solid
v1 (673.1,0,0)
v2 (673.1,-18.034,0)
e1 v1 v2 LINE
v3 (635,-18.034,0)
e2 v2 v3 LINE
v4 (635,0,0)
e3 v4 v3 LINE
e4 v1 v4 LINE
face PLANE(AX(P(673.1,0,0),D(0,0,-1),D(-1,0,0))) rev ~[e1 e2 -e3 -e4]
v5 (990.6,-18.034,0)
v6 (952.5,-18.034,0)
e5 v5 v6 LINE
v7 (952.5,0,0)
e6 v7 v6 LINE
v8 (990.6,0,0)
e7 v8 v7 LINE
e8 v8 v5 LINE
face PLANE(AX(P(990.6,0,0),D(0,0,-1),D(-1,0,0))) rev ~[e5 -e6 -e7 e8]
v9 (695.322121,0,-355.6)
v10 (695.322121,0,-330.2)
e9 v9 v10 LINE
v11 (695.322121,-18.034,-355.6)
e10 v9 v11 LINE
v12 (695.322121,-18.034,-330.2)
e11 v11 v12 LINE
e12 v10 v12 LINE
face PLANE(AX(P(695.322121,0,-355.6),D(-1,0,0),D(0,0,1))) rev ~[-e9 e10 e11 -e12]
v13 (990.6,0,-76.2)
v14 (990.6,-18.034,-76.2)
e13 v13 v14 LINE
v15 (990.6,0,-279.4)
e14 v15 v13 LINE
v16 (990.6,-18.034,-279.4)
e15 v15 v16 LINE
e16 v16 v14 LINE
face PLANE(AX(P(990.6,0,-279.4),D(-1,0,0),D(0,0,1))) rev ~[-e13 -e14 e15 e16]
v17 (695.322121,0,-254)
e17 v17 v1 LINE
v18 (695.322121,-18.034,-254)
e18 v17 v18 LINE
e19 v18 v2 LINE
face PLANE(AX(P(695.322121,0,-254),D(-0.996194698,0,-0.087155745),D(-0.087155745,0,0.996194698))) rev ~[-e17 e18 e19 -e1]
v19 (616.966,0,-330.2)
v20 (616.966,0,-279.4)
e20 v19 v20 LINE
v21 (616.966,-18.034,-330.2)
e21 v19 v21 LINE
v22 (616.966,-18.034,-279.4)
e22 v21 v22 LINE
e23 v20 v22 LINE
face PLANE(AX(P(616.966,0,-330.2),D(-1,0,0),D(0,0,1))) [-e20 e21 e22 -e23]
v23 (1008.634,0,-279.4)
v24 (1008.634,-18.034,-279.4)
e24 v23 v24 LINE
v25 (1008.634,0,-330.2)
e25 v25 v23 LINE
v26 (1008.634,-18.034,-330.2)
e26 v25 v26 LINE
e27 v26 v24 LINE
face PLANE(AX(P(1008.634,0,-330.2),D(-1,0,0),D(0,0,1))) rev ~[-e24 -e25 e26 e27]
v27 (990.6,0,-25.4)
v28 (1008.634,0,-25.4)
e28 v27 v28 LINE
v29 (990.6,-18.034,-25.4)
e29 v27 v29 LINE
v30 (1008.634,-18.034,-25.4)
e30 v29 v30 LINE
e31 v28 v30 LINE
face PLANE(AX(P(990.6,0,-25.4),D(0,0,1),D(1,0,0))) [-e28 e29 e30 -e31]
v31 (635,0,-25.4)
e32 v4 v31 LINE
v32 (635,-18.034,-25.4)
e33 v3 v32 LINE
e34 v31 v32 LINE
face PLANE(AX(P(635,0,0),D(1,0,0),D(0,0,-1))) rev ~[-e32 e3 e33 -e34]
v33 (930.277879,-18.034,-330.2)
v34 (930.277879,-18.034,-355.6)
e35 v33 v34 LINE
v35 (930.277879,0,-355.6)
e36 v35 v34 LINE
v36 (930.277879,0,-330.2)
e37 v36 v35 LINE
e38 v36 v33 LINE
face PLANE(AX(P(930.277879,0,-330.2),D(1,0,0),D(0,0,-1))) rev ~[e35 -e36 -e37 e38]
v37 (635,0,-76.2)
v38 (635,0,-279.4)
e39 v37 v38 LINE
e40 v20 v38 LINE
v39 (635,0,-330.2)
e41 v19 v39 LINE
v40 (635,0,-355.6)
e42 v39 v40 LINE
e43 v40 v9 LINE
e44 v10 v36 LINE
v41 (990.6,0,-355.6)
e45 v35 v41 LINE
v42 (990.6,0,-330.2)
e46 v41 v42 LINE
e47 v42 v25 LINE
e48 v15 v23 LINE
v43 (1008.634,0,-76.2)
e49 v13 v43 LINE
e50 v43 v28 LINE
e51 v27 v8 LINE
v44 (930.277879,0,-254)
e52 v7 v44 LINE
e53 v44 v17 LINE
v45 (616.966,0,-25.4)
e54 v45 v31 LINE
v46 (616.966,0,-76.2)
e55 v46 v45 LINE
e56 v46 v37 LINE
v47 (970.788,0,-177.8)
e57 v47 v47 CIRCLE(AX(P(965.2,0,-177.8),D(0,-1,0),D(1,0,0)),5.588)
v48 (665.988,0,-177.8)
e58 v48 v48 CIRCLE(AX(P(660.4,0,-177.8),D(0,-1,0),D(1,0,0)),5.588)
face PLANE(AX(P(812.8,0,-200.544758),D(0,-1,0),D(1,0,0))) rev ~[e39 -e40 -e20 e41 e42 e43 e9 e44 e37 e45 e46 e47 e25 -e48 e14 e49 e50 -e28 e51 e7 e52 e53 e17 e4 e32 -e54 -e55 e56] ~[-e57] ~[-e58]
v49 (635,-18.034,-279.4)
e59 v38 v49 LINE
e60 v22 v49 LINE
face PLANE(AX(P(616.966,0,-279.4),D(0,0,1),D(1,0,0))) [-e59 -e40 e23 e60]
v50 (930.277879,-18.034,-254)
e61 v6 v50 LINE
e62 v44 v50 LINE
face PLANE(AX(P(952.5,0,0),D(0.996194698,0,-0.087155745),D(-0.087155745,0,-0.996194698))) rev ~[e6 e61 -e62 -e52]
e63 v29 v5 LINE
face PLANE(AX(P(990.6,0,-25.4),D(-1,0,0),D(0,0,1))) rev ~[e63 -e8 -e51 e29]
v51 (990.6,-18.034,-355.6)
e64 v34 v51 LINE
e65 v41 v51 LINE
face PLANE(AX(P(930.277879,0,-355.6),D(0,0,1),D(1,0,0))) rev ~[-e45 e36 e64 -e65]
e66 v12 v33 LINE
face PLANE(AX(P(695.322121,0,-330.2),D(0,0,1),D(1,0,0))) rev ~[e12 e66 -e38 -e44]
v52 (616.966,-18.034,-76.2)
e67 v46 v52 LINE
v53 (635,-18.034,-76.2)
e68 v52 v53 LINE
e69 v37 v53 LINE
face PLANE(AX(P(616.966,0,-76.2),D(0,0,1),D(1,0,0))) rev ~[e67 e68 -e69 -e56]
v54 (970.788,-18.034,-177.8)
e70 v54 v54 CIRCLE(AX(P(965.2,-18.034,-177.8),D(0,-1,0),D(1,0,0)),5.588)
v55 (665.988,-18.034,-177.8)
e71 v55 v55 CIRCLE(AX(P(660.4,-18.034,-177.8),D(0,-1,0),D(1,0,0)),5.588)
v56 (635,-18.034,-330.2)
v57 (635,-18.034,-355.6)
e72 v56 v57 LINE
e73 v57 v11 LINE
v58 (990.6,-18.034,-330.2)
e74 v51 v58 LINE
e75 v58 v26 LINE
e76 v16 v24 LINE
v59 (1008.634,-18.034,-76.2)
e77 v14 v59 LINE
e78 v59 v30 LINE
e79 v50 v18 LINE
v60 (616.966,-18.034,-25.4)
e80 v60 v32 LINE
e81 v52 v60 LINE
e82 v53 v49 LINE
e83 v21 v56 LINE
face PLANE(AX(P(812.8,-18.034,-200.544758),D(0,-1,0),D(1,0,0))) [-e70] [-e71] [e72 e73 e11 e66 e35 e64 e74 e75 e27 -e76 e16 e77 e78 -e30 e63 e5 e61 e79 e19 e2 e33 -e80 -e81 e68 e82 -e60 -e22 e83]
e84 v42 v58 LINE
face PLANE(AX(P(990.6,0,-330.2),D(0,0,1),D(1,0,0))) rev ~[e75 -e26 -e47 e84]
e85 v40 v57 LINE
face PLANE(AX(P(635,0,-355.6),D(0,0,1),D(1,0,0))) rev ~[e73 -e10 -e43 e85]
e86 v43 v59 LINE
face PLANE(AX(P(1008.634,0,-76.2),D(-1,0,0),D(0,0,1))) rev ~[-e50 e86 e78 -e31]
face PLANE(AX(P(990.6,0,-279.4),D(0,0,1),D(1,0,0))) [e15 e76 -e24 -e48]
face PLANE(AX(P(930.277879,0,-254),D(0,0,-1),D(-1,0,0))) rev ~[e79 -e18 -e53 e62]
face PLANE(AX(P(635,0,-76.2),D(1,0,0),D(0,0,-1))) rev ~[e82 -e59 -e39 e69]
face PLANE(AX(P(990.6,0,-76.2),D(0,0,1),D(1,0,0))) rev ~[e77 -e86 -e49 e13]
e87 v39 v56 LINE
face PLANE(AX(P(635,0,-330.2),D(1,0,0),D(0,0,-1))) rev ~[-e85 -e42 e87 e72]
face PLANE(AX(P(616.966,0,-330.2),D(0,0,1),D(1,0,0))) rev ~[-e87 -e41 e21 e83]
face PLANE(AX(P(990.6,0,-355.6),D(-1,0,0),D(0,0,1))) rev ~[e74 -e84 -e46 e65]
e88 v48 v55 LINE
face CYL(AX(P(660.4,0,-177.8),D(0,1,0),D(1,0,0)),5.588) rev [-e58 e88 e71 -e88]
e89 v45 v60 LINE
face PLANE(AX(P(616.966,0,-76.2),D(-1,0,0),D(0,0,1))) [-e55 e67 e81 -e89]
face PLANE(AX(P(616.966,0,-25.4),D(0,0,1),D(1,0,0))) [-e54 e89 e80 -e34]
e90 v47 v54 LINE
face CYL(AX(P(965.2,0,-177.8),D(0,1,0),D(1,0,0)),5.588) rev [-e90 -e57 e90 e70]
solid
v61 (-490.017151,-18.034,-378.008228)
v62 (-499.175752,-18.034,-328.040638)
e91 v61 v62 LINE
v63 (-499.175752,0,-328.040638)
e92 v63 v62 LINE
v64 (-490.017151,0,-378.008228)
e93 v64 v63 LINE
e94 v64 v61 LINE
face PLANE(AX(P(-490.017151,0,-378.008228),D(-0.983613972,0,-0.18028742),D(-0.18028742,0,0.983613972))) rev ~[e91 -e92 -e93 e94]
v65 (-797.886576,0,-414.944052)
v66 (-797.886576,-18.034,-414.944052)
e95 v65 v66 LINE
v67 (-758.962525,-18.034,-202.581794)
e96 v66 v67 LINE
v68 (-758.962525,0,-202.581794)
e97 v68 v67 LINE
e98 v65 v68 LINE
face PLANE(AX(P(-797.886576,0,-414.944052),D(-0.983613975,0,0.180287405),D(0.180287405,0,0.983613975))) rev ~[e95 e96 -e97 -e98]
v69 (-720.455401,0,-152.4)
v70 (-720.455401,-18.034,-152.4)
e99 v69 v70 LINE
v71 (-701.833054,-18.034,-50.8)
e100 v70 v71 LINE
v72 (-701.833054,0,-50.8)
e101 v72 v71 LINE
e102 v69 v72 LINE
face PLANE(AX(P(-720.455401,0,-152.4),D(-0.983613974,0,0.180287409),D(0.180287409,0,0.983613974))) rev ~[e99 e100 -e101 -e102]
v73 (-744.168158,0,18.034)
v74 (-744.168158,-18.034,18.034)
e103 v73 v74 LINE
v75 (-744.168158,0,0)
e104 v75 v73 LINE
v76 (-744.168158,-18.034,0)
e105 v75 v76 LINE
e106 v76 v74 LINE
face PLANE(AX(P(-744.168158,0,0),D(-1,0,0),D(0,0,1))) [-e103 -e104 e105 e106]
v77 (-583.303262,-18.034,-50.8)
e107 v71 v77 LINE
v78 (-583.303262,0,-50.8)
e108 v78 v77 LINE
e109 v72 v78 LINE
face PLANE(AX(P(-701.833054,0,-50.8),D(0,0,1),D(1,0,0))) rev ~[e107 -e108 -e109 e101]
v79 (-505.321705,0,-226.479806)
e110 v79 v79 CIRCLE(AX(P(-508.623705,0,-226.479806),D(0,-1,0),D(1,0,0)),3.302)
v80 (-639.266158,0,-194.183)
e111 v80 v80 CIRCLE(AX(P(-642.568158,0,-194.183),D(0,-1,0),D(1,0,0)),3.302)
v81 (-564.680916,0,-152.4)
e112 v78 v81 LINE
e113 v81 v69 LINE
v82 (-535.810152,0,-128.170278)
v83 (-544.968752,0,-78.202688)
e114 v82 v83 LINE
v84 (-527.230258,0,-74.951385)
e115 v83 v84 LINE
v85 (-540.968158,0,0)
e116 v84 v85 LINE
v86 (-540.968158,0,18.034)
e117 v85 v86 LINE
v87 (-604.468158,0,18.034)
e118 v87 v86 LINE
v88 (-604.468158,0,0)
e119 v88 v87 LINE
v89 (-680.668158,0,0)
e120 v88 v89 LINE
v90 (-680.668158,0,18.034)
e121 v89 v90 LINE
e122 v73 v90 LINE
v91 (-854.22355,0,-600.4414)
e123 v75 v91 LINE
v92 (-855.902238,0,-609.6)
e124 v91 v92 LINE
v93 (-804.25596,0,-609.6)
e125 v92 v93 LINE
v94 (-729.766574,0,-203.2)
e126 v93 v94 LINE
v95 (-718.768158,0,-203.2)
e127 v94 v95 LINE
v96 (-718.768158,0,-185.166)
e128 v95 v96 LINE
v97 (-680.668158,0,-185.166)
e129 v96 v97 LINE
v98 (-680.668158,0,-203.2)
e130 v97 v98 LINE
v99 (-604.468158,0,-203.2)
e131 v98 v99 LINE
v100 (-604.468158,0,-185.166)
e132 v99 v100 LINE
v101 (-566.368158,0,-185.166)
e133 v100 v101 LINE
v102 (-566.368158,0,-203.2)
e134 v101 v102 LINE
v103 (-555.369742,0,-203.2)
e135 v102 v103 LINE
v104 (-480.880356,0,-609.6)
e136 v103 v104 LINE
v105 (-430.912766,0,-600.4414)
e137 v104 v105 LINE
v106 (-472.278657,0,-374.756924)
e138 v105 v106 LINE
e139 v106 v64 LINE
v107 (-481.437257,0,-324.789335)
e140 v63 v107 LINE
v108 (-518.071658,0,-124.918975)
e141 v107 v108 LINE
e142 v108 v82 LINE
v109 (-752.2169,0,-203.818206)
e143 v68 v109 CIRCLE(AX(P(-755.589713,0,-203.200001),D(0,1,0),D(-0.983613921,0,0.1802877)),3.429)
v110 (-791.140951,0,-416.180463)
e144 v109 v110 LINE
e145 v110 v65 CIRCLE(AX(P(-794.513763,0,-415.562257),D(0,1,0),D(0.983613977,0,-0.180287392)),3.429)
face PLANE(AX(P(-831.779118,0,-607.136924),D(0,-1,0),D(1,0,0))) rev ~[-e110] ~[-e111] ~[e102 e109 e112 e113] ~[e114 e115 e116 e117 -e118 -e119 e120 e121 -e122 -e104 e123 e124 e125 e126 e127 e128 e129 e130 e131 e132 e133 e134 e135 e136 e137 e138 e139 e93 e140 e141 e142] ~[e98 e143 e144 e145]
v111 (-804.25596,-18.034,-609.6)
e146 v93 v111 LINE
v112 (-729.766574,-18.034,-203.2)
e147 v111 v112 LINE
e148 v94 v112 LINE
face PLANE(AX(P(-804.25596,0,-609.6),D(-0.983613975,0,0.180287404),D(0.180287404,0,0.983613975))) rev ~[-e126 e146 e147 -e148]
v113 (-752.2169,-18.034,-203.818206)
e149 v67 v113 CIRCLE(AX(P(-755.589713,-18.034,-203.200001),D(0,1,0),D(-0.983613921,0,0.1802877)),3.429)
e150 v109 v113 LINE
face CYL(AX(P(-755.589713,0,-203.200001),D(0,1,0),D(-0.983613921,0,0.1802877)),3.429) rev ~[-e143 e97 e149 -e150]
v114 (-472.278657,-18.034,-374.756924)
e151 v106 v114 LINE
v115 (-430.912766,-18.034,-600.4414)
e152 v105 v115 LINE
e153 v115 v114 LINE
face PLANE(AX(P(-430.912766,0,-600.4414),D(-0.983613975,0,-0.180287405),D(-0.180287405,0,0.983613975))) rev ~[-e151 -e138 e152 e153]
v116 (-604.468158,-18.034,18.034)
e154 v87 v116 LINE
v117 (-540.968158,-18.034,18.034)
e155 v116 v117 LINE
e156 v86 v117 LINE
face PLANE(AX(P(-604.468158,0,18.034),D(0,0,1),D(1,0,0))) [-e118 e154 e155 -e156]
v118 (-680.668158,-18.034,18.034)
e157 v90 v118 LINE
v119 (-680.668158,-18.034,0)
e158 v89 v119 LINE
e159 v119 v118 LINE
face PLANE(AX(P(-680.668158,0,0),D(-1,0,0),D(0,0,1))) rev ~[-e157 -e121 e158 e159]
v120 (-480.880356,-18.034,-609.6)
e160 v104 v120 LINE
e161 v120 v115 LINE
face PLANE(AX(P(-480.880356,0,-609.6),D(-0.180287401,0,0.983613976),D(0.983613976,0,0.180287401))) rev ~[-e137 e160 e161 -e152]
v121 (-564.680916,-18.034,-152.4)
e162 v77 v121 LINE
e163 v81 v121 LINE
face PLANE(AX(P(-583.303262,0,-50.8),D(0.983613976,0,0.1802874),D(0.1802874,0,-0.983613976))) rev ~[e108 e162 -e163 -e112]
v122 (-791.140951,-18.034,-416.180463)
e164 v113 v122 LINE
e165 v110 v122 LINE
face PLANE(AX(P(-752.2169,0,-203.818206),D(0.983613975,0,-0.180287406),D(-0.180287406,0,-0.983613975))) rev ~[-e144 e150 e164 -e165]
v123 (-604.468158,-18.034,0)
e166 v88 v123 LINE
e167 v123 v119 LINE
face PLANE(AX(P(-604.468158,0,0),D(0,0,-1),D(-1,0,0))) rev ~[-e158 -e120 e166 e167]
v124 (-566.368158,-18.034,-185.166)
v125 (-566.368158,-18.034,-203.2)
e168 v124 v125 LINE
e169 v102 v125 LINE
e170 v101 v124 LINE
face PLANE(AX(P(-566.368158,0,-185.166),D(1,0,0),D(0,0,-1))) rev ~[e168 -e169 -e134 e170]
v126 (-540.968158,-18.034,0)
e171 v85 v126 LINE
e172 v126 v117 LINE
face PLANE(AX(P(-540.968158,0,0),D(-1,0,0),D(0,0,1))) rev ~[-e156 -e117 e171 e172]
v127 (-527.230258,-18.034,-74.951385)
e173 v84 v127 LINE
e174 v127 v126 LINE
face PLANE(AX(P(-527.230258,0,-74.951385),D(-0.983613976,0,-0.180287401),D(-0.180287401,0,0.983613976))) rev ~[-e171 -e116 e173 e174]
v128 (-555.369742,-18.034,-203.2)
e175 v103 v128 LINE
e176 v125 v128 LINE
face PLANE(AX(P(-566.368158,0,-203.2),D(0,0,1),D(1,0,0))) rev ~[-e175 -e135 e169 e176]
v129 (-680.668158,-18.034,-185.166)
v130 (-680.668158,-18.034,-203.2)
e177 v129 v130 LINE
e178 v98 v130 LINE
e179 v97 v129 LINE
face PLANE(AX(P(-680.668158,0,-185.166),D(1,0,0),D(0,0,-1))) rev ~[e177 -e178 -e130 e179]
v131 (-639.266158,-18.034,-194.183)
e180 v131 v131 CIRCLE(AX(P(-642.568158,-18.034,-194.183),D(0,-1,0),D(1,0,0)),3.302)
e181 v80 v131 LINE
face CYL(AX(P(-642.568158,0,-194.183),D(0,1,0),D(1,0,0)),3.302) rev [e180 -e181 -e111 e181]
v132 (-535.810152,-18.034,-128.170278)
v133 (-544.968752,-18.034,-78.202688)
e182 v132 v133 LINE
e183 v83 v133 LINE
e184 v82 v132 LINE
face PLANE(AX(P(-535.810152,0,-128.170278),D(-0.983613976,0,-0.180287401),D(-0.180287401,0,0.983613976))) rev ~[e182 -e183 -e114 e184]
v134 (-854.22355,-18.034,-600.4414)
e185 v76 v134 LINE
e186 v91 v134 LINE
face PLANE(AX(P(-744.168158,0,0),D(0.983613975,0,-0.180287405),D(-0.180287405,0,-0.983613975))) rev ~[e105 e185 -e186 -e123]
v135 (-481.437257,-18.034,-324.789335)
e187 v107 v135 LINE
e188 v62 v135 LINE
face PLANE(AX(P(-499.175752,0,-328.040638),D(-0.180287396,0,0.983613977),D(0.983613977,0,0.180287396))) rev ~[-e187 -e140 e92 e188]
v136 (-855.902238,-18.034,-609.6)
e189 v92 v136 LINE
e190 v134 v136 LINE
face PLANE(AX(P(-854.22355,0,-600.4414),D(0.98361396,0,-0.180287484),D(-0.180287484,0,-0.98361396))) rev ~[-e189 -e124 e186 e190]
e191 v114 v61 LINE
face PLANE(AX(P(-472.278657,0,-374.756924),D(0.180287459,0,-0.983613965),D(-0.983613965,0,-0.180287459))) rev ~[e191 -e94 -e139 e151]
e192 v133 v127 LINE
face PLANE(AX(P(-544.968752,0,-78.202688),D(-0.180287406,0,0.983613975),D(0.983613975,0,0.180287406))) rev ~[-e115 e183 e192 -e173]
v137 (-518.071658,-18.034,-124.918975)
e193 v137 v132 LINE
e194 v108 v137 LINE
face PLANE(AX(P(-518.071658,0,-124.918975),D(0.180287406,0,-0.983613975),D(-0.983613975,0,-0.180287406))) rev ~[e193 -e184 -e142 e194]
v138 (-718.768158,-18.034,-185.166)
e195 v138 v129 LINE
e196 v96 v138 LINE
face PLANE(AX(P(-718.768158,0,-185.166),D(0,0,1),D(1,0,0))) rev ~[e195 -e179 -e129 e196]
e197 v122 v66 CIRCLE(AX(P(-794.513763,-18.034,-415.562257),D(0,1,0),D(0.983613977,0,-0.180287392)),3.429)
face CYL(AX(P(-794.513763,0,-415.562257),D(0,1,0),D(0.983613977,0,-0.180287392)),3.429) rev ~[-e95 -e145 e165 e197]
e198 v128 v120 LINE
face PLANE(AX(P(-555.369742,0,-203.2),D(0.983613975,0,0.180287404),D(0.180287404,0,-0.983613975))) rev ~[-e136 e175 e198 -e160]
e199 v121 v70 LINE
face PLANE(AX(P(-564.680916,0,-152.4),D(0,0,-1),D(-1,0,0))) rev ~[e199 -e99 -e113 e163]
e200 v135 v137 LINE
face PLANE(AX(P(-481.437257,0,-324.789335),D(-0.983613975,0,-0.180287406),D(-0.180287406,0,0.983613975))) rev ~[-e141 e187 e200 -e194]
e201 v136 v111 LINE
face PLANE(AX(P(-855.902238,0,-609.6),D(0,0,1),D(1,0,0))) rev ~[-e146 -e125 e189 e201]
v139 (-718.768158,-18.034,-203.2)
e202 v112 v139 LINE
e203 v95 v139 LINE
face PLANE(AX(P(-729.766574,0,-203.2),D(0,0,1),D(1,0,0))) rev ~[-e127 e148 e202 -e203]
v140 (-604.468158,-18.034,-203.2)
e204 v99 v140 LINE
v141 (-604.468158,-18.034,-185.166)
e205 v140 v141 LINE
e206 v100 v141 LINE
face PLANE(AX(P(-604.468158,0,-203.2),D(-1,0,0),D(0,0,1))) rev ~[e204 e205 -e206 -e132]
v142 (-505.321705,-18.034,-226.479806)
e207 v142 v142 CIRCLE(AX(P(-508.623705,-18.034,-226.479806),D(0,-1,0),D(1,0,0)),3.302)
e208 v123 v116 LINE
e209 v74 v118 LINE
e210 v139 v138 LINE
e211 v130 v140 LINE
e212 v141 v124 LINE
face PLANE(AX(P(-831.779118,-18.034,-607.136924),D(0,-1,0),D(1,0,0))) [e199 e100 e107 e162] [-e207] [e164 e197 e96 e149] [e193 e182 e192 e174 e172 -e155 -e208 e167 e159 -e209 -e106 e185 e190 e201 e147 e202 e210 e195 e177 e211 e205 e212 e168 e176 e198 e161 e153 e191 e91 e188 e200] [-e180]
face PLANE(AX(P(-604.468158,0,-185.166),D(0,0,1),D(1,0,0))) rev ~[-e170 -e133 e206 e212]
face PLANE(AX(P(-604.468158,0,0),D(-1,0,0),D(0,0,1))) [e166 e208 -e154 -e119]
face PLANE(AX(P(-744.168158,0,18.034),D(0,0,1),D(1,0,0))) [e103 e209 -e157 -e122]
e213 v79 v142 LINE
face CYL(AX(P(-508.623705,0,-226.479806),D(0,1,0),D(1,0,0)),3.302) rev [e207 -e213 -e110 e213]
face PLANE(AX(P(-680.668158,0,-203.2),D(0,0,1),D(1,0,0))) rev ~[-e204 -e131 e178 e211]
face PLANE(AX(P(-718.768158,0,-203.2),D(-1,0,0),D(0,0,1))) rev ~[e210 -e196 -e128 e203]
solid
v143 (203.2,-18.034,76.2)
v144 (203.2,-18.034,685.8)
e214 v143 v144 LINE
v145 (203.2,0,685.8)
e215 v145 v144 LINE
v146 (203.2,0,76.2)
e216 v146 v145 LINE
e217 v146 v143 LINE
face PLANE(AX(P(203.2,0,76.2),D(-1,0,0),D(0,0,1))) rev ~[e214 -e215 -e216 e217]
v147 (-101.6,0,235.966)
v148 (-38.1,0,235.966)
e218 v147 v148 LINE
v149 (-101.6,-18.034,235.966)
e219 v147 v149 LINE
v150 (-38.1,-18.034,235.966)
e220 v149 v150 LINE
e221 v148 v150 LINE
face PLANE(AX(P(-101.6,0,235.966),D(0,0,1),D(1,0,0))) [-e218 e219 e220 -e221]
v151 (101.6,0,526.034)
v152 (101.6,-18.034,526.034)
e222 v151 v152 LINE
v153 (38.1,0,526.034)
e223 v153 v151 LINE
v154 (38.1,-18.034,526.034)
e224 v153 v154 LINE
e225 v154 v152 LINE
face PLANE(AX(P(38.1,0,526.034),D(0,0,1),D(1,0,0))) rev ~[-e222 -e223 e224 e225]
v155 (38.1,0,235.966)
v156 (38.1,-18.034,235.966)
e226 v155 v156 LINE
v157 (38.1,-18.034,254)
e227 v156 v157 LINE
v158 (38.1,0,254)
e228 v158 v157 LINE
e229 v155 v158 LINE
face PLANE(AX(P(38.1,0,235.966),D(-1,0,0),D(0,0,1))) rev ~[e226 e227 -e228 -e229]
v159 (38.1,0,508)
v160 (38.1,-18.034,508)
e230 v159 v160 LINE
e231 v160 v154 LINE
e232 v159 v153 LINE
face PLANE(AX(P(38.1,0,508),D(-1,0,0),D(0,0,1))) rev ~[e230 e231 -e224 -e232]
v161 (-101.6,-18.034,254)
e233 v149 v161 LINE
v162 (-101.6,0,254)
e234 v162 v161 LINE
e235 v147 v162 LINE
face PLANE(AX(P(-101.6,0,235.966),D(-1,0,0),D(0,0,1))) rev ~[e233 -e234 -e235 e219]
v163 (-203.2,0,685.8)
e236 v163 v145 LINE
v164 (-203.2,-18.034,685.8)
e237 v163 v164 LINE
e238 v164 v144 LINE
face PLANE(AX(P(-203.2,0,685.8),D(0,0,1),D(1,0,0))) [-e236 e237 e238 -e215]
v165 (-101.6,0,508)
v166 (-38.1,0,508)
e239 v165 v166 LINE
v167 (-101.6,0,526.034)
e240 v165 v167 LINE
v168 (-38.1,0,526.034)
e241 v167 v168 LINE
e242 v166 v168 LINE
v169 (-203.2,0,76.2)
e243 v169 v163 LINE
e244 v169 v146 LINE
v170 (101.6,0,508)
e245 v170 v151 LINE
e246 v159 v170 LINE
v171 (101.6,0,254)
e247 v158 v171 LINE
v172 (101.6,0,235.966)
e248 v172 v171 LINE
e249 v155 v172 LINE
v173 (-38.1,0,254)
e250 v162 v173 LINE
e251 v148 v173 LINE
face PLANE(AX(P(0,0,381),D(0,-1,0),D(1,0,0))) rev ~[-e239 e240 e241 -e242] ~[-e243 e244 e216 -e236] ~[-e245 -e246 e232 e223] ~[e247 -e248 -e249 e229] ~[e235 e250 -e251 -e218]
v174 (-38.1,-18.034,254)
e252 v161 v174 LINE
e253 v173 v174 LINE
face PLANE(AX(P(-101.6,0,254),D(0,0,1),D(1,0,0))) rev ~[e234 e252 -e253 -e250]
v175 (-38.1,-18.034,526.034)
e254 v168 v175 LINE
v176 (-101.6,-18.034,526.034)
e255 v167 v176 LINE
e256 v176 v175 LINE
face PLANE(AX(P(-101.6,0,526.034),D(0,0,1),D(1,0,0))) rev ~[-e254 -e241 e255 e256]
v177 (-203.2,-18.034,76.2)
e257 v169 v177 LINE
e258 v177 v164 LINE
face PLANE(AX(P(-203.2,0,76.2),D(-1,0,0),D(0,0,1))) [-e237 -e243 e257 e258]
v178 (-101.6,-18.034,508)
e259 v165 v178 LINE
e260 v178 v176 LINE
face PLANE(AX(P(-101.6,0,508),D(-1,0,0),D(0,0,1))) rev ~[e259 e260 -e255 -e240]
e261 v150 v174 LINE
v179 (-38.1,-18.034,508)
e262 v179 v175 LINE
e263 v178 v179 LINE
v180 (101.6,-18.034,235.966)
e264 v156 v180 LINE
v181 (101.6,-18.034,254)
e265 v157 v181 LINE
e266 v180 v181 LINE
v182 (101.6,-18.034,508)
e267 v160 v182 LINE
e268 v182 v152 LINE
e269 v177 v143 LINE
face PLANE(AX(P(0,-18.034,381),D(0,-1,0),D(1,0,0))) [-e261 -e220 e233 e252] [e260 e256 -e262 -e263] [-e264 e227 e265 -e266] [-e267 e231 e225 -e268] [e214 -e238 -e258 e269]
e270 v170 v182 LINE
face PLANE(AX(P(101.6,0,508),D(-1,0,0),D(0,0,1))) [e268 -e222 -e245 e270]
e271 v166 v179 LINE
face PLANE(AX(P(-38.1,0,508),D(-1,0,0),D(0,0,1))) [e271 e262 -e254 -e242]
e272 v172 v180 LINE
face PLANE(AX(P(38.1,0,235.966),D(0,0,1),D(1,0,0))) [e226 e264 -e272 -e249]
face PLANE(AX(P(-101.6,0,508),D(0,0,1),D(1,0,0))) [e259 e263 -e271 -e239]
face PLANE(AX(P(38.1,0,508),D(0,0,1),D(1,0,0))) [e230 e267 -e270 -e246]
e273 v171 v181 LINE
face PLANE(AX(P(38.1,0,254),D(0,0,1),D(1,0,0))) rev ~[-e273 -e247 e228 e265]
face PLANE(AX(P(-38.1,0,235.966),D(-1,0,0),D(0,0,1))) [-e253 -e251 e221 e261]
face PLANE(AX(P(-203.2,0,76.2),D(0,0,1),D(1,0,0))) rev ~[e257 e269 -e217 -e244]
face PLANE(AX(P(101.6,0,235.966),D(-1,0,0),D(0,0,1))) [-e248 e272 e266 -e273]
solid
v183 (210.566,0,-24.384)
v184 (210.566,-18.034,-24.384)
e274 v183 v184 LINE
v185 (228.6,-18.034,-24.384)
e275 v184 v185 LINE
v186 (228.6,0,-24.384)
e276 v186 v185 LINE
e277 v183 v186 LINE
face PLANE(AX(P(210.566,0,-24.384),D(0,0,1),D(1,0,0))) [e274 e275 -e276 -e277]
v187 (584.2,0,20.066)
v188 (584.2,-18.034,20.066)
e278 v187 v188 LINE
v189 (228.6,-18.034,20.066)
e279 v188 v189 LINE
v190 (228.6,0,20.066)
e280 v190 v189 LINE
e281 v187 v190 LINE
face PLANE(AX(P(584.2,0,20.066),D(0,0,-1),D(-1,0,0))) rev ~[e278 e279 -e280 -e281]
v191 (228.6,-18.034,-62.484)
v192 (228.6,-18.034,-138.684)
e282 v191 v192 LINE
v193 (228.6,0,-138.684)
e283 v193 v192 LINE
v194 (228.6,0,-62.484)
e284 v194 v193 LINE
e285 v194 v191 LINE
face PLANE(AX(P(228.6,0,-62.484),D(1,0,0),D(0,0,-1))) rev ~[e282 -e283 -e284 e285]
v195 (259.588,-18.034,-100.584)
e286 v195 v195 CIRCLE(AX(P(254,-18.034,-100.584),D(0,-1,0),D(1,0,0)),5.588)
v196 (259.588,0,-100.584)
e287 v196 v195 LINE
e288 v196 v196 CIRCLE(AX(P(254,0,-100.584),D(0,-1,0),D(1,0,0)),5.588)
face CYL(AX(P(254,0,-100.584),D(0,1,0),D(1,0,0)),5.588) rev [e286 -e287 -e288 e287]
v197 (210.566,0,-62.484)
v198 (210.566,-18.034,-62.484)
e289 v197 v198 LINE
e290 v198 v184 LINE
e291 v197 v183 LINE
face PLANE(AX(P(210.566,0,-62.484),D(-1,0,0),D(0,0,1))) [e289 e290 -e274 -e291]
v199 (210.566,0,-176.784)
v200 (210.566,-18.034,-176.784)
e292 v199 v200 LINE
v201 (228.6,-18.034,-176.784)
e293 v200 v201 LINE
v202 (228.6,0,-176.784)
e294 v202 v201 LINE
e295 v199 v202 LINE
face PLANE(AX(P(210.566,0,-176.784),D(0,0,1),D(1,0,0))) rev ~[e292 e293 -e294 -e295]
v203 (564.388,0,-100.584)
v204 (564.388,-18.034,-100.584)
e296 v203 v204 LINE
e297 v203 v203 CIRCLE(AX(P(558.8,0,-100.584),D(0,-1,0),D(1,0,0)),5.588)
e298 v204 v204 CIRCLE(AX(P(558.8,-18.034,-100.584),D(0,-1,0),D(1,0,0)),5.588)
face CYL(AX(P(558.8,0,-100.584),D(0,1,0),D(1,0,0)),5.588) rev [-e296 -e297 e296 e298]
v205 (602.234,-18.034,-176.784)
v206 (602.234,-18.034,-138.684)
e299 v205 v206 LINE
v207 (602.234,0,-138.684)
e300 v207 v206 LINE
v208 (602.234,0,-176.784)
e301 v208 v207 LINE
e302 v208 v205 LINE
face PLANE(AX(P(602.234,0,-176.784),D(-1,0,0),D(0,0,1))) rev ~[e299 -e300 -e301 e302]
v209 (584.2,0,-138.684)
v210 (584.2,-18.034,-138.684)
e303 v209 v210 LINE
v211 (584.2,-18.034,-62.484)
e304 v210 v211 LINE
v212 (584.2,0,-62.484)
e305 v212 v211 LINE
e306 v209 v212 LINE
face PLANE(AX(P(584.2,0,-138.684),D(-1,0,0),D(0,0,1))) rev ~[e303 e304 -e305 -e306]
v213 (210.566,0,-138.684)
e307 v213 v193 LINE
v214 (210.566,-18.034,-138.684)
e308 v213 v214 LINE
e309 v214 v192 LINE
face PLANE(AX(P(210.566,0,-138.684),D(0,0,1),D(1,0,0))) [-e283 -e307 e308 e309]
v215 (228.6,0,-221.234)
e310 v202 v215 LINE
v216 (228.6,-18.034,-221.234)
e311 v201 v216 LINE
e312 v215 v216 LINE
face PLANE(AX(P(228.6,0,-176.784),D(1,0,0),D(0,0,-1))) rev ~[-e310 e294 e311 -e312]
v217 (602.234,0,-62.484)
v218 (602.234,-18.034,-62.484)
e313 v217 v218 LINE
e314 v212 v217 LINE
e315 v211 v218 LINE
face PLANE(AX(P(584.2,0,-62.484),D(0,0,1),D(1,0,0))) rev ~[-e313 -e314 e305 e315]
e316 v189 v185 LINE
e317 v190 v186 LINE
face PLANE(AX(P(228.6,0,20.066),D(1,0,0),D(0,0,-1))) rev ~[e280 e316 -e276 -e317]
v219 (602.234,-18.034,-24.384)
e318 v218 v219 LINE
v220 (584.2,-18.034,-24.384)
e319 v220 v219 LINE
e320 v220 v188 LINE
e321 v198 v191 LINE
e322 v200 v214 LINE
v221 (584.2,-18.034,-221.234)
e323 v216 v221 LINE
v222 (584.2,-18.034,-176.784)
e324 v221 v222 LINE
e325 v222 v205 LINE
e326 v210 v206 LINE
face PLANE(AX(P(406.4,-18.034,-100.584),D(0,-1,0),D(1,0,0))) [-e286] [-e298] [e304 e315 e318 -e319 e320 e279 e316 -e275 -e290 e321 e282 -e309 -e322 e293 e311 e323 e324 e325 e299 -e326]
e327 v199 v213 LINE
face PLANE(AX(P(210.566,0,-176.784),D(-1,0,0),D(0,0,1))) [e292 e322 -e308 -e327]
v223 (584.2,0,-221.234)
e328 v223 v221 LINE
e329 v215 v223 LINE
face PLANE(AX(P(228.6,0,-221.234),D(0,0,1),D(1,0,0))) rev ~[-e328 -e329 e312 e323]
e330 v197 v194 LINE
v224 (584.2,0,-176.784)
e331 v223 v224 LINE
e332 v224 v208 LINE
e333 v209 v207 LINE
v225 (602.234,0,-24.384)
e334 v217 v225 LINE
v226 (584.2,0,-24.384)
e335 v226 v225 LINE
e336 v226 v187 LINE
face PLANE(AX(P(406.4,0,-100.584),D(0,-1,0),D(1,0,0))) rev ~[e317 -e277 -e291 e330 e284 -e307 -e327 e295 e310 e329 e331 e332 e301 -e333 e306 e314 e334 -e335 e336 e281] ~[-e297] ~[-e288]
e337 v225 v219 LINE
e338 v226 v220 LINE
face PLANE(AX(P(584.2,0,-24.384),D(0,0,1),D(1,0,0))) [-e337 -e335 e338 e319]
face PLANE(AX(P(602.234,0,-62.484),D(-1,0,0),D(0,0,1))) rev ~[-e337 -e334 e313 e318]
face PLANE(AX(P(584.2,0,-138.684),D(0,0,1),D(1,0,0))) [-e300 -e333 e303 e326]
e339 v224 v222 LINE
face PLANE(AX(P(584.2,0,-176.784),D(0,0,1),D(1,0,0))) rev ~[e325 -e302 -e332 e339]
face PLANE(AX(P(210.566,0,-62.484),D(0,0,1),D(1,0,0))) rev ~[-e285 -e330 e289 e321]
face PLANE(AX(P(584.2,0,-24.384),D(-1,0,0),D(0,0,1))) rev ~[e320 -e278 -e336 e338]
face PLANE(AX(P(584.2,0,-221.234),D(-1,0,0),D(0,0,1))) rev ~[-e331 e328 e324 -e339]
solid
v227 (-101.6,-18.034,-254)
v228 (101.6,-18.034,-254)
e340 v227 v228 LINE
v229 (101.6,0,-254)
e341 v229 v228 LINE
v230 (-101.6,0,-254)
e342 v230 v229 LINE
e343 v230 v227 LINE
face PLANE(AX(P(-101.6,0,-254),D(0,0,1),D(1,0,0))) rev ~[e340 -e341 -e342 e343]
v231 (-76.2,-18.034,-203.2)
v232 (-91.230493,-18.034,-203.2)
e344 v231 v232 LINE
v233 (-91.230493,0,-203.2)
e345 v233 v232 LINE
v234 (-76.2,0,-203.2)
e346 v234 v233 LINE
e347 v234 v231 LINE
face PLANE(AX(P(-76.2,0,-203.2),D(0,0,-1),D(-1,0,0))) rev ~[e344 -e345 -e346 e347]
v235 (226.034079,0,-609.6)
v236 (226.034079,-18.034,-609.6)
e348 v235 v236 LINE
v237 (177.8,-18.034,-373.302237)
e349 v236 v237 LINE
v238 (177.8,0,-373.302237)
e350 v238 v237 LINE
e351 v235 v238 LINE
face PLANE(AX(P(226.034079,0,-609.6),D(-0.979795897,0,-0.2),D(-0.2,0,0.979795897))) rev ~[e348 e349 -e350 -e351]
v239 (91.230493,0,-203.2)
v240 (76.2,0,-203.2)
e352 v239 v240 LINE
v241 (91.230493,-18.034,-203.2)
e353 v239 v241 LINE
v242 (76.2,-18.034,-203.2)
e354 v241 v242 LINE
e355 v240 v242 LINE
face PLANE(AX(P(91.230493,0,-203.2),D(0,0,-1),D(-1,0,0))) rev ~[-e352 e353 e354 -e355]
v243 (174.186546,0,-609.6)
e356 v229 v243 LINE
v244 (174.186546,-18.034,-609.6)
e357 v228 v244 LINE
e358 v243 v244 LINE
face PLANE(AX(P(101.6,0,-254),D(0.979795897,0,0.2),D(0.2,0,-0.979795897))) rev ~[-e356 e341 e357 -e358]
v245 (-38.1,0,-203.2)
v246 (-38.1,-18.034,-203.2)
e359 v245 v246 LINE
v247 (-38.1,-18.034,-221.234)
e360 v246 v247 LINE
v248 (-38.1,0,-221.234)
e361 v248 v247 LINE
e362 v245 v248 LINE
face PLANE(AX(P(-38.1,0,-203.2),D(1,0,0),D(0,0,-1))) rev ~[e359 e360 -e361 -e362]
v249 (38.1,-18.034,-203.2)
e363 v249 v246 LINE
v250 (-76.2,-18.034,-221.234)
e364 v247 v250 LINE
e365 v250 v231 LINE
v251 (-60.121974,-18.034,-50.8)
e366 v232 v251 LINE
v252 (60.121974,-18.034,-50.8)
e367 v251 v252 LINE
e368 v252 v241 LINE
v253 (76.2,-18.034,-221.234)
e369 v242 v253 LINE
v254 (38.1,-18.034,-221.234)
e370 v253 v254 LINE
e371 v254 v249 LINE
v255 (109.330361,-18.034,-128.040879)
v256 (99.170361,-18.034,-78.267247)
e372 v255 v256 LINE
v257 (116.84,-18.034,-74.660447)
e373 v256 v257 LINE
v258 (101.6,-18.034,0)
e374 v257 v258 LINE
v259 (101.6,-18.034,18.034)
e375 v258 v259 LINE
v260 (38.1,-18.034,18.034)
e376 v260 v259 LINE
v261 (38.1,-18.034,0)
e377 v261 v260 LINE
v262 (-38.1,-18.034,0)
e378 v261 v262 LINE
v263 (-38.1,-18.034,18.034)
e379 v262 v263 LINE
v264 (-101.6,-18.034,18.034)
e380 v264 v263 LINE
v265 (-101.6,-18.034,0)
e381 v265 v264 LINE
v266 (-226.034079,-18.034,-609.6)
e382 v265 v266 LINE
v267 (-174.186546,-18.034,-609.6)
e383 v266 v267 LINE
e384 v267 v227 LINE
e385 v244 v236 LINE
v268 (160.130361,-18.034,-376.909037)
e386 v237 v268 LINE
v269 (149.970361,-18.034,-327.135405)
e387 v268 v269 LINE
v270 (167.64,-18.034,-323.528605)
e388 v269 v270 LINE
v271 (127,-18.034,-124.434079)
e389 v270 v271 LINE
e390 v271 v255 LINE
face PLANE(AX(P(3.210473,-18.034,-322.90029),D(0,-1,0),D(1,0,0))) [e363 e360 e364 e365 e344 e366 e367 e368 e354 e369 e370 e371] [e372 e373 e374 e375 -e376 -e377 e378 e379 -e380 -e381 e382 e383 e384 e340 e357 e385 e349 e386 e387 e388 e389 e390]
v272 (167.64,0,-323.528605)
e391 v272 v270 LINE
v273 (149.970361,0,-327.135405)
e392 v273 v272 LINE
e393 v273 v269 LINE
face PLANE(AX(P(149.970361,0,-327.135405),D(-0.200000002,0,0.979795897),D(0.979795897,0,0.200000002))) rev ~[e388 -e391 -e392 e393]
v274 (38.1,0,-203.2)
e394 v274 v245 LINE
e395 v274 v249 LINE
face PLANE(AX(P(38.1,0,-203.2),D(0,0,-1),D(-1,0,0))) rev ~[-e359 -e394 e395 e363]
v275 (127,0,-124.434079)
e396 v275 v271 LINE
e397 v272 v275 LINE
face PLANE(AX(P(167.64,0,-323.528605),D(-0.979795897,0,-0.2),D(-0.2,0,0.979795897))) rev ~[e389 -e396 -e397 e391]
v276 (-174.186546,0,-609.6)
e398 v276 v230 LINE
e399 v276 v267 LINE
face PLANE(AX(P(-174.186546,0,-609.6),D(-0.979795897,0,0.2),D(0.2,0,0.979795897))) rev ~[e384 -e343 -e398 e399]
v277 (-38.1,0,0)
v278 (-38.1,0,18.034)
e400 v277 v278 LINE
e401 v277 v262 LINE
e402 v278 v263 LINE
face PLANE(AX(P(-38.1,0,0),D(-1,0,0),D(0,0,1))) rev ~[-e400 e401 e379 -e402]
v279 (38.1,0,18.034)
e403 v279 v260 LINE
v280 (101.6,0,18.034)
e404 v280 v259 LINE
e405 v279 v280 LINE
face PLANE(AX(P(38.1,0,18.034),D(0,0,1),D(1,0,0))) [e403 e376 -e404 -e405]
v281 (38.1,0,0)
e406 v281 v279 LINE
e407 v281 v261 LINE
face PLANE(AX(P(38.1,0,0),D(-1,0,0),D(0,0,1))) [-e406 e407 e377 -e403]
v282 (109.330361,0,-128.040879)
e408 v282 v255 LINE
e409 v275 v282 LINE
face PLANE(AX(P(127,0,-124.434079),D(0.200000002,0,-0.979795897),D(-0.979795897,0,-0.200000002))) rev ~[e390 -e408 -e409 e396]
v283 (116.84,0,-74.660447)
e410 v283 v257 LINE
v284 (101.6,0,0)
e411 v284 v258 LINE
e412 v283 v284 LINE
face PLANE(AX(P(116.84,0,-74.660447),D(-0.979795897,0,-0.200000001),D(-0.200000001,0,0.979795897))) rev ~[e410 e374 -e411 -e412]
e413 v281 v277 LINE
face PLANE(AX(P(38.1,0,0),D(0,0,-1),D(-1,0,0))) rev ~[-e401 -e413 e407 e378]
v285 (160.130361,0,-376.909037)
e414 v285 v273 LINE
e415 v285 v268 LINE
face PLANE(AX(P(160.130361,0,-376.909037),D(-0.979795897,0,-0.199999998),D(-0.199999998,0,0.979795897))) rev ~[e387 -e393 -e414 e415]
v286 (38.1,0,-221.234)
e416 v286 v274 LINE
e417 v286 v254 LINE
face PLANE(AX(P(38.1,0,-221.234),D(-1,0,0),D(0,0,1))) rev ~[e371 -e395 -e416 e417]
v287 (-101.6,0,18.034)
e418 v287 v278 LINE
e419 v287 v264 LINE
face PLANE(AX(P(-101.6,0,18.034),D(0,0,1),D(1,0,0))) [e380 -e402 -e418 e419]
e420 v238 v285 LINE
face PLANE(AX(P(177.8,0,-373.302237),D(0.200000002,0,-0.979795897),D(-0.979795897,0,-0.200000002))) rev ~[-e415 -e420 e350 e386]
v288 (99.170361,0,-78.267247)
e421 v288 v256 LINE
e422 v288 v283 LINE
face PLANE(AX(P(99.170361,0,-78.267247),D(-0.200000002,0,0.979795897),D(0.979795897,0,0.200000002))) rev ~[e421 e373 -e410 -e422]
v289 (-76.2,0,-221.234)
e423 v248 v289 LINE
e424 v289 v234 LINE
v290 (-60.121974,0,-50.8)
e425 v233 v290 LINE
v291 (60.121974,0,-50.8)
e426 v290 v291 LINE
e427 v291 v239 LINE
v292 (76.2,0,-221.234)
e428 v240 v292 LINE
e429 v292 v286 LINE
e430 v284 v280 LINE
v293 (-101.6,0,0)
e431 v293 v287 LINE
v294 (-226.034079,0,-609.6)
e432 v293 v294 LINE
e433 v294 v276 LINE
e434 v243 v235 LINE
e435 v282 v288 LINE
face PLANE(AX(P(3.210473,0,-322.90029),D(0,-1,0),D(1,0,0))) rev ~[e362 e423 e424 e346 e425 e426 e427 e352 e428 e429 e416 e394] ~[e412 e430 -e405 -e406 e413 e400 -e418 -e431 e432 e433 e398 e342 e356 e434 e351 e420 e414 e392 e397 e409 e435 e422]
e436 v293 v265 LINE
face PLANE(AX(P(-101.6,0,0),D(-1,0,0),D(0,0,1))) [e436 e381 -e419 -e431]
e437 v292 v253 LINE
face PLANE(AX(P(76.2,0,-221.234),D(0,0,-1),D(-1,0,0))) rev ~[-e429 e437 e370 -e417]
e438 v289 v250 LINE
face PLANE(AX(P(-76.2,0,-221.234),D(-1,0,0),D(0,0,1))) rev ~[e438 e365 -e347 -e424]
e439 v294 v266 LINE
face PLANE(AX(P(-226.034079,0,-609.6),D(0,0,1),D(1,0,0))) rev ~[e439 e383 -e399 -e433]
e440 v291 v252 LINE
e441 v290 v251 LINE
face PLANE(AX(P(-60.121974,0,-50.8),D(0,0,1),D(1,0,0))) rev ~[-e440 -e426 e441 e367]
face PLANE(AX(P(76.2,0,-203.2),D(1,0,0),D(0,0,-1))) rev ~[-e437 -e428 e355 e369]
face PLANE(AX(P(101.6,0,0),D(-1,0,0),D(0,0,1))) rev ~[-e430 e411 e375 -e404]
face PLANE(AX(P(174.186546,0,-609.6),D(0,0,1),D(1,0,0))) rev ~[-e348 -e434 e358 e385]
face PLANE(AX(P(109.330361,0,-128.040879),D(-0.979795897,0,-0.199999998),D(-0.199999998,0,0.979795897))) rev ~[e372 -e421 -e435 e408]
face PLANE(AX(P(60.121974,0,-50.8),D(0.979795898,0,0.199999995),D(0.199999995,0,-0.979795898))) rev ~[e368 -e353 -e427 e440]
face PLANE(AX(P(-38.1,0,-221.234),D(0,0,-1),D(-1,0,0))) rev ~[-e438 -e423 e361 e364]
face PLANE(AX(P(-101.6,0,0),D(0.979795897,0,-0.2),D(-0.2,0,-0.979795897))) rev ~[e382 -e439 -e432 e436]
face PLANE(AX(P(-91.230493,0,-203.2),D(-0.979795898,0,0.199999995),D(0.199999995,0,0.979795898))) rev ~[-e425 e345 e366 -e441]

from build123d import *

# Parameters (mm, degrees)
F0_W     = 406.4
F0_H     = 609.6
F0_W_2   = 63.5
F0_H_2   = 18.034
F0_R     = 5.588
F0_W_3   = 18.034
F0_H_3   = 38.1
F0_H_4   = 50.8
F0_R_2   = 3.302
F1_DEPTH = 18.034


with BuildPart() as f1:
    # F0 (on Front) → F1 (new body)
    with BuildSketch(Plane.XZ):
        with Locations((0, 381)):
            Rectangle(F0_W, F0_H)
        with Locations((-69.85, 244.983)):
            Rectangle(F0_W_2, F0_H_2, mode=Mode.SUBTRACT)
        with Locations((69.85, 244.983)):
            Rectangle(F0_W_2, F0_H_2, mode=Mode.SUBTRACT)
        with Locations((-69.85, 517.017)):
            Rectangle(F0_W_2, F0_H_2, mode=Mode.SUBTRACT)
        with Locations((69.85, 517.017)):
            Rectangle(F0_W_2, F0_H_2, mode=Mode.SUBTRACT)
        Polygon((-38.1, 0), (-101.6, 0), (-226.034079, -609.6), (-174.186546, -609.6), (-101.6, -254), (101.6, -254), (174.186546, -609.6), (226.034079, -609.6), (177.8, -373.302237), (160.130361, -376.909037), (149.970361, -327.135405), (167.64, -323.528605), (127, -124.434079), (109.330361, -128.040879), (99.170361, -78.267247), (116.84, -74.660447), (101.6, 0), (38.1, 0), align=None)
        Polygon((-91.230493, -203.2), (-60.121974, -50.8), (60.121974, -50.8), (91.230493, -203.2), (76.2, -203.2), (76.2, -221.234), (38.1, -221.234), (38.1, -203.2), (-38.1, -203.2), (-38.1, -221.234), (-76.2, -221.234), (-76.2, -203.2), align=None, mode=Mode.SUBTRACT)
        with Locations((69.85, 9.017)):
            Rectangle(F0_W_2, F0_H_2)
        with Locations((-69.85, 9.017)):
            Rectangle(F0_W_2, F0_H_2)
        Polygon((228.6, -176.784), (228.6, -221.234), (584.2, -221.234), (584.2, -176.784), (584.2, -138.684), (584.2, -62.484), (584.2, -24.384), (584.2, 20.066), (228.6, 20.066), (228.6, -24.384), (228.6, -62.484), (228.6, -138.684), align=None)
        with Locations((254, -100.584)):
            Circle(F0_R, mode=Mode.SUBTRACT)
        with Locations((558.8, -100.584)):
            Circle(F0_R, mode=Mode.SUBTRACT)
        with Locations((219.583, -43.434)):
            Rectangle(F0_W_3, F0_H_3)
        with Locations((219.583, -157.734)):
            Rectangle(F0_W_3, F0_H_3)
        with Locations((593.217, -157.734)):
            Rectangle(F0_W_3, F0_H_3)
        with Locations((593.217, -43.434)):
            Rectangle(F0_W_3, F0_H_3)
        Polygon((673.1, 0), (635, 0), (635, -25.4), (635, -76.2), (635, -279.4), (635, -330.2), (635, -355.6), (695.322121, -355.6), (695.322121, -330.2), (812.8, -330.2), (930.277879, -330.2), (930.277879, -355.6), (990.6, -355.6), (990.6, -330.2), (990.6, -279.4), (990.6, -76.2), (990.6, -25.4), (990.6, 0), (952.5, 0), (930.277879, -254), (812.8, -254), (695.322121, -254), align=None)
        with Locations((660.4, -177.8)):
            Circle(F0_R, mode=Mode.SUBTRACT)
        with Locations((965.2, -177.8)):
            Circle(F0_R, mode=Mode.SUBTRACT)
        with Locations((999.617, -50.8)):
            Rectangle(F0_W_3, F0_H_4)
        with Locations((625.983, -50.8)):
            Rectangle(F0_W_3, F0_H_4)
        with Locations((625.983, -304.8)):
            Rectangle(F0_W_3, F0_H_4)
        with Locations((999.617, -304.8)):
            Rectangle(F0_W_3, F0_H_4)
        Polygon((-804.25596, -609.6), (-854.22355, -600.4414), (-855.902238, -609.6), align=None)
        with Locations((-572.718158, 9.017)):
            Rectangle(F0_W_2, F0_H_2)
        with Locations((-712.418158, 9.017)):
            Rectangle(F0_W_2, F0_H_2)
        Polygon((-680.668158, 0), (-744.168158, 0), (-854.22355, -600.4414), (-804.25596, -609.6), (-729.766574, -203.2), (-718.768158, -203.2), (-718.768158, -185.166), (-680.668158, -185.166), (-680.668158, -203.2), (-604.468158, -203.2), (-604.468158, -185.166), (-566.368158, -185.166), (-566.368158, -203.2), (-555.369742, -203.2), (-480.880356, -609.6), (-430.912766, -600.4414), (-472.278657, -374.756924), (-490.017151, -378.008228), (-499.175752, -328.040638), (-481.437257, -324.789335), (-518.071658, -124.918975), (-535.810152, -128.170278), (-544.968752, -78.202688), (-527.230258, -74.951385), (-540.968158, 0), (-604.468158, 0), align=None)
        with BuildLine():
            Line((-797.886576, -414.944052), (-758.962525, -202.581794))
            ThreePointArc((-758.962525, -202.581794), (-754.971507, -199.827188), (-752.2169, -203.818206))
            Line((-752.2169, -203.818206), (-791.140951, -416.180463))
            ThreePointArc((-791.140951, -416.180463), (-795.131969, -418.93507), (-797.886576, -414.944052))
        make_face(mode=Mode.SUBTRACT)
        with Locations((-642.568158, -194.183)):
            Circle(F0_R_2, mode=Mode.SUBTRACT)
        with Locations((-508.623705, -226.479806)):
            Circle(F0_R_2, mode=Mode.SUBTRACT)
        Polygon((-720.455401, -152.4), (-701.833054, -50.8), (-583.303262, -50.8), (-564.680916, -152.4), align=None, mode=Mode.SUBTRACT)
    extrude(amount=F1_DEPTH)


solid = f1.part
